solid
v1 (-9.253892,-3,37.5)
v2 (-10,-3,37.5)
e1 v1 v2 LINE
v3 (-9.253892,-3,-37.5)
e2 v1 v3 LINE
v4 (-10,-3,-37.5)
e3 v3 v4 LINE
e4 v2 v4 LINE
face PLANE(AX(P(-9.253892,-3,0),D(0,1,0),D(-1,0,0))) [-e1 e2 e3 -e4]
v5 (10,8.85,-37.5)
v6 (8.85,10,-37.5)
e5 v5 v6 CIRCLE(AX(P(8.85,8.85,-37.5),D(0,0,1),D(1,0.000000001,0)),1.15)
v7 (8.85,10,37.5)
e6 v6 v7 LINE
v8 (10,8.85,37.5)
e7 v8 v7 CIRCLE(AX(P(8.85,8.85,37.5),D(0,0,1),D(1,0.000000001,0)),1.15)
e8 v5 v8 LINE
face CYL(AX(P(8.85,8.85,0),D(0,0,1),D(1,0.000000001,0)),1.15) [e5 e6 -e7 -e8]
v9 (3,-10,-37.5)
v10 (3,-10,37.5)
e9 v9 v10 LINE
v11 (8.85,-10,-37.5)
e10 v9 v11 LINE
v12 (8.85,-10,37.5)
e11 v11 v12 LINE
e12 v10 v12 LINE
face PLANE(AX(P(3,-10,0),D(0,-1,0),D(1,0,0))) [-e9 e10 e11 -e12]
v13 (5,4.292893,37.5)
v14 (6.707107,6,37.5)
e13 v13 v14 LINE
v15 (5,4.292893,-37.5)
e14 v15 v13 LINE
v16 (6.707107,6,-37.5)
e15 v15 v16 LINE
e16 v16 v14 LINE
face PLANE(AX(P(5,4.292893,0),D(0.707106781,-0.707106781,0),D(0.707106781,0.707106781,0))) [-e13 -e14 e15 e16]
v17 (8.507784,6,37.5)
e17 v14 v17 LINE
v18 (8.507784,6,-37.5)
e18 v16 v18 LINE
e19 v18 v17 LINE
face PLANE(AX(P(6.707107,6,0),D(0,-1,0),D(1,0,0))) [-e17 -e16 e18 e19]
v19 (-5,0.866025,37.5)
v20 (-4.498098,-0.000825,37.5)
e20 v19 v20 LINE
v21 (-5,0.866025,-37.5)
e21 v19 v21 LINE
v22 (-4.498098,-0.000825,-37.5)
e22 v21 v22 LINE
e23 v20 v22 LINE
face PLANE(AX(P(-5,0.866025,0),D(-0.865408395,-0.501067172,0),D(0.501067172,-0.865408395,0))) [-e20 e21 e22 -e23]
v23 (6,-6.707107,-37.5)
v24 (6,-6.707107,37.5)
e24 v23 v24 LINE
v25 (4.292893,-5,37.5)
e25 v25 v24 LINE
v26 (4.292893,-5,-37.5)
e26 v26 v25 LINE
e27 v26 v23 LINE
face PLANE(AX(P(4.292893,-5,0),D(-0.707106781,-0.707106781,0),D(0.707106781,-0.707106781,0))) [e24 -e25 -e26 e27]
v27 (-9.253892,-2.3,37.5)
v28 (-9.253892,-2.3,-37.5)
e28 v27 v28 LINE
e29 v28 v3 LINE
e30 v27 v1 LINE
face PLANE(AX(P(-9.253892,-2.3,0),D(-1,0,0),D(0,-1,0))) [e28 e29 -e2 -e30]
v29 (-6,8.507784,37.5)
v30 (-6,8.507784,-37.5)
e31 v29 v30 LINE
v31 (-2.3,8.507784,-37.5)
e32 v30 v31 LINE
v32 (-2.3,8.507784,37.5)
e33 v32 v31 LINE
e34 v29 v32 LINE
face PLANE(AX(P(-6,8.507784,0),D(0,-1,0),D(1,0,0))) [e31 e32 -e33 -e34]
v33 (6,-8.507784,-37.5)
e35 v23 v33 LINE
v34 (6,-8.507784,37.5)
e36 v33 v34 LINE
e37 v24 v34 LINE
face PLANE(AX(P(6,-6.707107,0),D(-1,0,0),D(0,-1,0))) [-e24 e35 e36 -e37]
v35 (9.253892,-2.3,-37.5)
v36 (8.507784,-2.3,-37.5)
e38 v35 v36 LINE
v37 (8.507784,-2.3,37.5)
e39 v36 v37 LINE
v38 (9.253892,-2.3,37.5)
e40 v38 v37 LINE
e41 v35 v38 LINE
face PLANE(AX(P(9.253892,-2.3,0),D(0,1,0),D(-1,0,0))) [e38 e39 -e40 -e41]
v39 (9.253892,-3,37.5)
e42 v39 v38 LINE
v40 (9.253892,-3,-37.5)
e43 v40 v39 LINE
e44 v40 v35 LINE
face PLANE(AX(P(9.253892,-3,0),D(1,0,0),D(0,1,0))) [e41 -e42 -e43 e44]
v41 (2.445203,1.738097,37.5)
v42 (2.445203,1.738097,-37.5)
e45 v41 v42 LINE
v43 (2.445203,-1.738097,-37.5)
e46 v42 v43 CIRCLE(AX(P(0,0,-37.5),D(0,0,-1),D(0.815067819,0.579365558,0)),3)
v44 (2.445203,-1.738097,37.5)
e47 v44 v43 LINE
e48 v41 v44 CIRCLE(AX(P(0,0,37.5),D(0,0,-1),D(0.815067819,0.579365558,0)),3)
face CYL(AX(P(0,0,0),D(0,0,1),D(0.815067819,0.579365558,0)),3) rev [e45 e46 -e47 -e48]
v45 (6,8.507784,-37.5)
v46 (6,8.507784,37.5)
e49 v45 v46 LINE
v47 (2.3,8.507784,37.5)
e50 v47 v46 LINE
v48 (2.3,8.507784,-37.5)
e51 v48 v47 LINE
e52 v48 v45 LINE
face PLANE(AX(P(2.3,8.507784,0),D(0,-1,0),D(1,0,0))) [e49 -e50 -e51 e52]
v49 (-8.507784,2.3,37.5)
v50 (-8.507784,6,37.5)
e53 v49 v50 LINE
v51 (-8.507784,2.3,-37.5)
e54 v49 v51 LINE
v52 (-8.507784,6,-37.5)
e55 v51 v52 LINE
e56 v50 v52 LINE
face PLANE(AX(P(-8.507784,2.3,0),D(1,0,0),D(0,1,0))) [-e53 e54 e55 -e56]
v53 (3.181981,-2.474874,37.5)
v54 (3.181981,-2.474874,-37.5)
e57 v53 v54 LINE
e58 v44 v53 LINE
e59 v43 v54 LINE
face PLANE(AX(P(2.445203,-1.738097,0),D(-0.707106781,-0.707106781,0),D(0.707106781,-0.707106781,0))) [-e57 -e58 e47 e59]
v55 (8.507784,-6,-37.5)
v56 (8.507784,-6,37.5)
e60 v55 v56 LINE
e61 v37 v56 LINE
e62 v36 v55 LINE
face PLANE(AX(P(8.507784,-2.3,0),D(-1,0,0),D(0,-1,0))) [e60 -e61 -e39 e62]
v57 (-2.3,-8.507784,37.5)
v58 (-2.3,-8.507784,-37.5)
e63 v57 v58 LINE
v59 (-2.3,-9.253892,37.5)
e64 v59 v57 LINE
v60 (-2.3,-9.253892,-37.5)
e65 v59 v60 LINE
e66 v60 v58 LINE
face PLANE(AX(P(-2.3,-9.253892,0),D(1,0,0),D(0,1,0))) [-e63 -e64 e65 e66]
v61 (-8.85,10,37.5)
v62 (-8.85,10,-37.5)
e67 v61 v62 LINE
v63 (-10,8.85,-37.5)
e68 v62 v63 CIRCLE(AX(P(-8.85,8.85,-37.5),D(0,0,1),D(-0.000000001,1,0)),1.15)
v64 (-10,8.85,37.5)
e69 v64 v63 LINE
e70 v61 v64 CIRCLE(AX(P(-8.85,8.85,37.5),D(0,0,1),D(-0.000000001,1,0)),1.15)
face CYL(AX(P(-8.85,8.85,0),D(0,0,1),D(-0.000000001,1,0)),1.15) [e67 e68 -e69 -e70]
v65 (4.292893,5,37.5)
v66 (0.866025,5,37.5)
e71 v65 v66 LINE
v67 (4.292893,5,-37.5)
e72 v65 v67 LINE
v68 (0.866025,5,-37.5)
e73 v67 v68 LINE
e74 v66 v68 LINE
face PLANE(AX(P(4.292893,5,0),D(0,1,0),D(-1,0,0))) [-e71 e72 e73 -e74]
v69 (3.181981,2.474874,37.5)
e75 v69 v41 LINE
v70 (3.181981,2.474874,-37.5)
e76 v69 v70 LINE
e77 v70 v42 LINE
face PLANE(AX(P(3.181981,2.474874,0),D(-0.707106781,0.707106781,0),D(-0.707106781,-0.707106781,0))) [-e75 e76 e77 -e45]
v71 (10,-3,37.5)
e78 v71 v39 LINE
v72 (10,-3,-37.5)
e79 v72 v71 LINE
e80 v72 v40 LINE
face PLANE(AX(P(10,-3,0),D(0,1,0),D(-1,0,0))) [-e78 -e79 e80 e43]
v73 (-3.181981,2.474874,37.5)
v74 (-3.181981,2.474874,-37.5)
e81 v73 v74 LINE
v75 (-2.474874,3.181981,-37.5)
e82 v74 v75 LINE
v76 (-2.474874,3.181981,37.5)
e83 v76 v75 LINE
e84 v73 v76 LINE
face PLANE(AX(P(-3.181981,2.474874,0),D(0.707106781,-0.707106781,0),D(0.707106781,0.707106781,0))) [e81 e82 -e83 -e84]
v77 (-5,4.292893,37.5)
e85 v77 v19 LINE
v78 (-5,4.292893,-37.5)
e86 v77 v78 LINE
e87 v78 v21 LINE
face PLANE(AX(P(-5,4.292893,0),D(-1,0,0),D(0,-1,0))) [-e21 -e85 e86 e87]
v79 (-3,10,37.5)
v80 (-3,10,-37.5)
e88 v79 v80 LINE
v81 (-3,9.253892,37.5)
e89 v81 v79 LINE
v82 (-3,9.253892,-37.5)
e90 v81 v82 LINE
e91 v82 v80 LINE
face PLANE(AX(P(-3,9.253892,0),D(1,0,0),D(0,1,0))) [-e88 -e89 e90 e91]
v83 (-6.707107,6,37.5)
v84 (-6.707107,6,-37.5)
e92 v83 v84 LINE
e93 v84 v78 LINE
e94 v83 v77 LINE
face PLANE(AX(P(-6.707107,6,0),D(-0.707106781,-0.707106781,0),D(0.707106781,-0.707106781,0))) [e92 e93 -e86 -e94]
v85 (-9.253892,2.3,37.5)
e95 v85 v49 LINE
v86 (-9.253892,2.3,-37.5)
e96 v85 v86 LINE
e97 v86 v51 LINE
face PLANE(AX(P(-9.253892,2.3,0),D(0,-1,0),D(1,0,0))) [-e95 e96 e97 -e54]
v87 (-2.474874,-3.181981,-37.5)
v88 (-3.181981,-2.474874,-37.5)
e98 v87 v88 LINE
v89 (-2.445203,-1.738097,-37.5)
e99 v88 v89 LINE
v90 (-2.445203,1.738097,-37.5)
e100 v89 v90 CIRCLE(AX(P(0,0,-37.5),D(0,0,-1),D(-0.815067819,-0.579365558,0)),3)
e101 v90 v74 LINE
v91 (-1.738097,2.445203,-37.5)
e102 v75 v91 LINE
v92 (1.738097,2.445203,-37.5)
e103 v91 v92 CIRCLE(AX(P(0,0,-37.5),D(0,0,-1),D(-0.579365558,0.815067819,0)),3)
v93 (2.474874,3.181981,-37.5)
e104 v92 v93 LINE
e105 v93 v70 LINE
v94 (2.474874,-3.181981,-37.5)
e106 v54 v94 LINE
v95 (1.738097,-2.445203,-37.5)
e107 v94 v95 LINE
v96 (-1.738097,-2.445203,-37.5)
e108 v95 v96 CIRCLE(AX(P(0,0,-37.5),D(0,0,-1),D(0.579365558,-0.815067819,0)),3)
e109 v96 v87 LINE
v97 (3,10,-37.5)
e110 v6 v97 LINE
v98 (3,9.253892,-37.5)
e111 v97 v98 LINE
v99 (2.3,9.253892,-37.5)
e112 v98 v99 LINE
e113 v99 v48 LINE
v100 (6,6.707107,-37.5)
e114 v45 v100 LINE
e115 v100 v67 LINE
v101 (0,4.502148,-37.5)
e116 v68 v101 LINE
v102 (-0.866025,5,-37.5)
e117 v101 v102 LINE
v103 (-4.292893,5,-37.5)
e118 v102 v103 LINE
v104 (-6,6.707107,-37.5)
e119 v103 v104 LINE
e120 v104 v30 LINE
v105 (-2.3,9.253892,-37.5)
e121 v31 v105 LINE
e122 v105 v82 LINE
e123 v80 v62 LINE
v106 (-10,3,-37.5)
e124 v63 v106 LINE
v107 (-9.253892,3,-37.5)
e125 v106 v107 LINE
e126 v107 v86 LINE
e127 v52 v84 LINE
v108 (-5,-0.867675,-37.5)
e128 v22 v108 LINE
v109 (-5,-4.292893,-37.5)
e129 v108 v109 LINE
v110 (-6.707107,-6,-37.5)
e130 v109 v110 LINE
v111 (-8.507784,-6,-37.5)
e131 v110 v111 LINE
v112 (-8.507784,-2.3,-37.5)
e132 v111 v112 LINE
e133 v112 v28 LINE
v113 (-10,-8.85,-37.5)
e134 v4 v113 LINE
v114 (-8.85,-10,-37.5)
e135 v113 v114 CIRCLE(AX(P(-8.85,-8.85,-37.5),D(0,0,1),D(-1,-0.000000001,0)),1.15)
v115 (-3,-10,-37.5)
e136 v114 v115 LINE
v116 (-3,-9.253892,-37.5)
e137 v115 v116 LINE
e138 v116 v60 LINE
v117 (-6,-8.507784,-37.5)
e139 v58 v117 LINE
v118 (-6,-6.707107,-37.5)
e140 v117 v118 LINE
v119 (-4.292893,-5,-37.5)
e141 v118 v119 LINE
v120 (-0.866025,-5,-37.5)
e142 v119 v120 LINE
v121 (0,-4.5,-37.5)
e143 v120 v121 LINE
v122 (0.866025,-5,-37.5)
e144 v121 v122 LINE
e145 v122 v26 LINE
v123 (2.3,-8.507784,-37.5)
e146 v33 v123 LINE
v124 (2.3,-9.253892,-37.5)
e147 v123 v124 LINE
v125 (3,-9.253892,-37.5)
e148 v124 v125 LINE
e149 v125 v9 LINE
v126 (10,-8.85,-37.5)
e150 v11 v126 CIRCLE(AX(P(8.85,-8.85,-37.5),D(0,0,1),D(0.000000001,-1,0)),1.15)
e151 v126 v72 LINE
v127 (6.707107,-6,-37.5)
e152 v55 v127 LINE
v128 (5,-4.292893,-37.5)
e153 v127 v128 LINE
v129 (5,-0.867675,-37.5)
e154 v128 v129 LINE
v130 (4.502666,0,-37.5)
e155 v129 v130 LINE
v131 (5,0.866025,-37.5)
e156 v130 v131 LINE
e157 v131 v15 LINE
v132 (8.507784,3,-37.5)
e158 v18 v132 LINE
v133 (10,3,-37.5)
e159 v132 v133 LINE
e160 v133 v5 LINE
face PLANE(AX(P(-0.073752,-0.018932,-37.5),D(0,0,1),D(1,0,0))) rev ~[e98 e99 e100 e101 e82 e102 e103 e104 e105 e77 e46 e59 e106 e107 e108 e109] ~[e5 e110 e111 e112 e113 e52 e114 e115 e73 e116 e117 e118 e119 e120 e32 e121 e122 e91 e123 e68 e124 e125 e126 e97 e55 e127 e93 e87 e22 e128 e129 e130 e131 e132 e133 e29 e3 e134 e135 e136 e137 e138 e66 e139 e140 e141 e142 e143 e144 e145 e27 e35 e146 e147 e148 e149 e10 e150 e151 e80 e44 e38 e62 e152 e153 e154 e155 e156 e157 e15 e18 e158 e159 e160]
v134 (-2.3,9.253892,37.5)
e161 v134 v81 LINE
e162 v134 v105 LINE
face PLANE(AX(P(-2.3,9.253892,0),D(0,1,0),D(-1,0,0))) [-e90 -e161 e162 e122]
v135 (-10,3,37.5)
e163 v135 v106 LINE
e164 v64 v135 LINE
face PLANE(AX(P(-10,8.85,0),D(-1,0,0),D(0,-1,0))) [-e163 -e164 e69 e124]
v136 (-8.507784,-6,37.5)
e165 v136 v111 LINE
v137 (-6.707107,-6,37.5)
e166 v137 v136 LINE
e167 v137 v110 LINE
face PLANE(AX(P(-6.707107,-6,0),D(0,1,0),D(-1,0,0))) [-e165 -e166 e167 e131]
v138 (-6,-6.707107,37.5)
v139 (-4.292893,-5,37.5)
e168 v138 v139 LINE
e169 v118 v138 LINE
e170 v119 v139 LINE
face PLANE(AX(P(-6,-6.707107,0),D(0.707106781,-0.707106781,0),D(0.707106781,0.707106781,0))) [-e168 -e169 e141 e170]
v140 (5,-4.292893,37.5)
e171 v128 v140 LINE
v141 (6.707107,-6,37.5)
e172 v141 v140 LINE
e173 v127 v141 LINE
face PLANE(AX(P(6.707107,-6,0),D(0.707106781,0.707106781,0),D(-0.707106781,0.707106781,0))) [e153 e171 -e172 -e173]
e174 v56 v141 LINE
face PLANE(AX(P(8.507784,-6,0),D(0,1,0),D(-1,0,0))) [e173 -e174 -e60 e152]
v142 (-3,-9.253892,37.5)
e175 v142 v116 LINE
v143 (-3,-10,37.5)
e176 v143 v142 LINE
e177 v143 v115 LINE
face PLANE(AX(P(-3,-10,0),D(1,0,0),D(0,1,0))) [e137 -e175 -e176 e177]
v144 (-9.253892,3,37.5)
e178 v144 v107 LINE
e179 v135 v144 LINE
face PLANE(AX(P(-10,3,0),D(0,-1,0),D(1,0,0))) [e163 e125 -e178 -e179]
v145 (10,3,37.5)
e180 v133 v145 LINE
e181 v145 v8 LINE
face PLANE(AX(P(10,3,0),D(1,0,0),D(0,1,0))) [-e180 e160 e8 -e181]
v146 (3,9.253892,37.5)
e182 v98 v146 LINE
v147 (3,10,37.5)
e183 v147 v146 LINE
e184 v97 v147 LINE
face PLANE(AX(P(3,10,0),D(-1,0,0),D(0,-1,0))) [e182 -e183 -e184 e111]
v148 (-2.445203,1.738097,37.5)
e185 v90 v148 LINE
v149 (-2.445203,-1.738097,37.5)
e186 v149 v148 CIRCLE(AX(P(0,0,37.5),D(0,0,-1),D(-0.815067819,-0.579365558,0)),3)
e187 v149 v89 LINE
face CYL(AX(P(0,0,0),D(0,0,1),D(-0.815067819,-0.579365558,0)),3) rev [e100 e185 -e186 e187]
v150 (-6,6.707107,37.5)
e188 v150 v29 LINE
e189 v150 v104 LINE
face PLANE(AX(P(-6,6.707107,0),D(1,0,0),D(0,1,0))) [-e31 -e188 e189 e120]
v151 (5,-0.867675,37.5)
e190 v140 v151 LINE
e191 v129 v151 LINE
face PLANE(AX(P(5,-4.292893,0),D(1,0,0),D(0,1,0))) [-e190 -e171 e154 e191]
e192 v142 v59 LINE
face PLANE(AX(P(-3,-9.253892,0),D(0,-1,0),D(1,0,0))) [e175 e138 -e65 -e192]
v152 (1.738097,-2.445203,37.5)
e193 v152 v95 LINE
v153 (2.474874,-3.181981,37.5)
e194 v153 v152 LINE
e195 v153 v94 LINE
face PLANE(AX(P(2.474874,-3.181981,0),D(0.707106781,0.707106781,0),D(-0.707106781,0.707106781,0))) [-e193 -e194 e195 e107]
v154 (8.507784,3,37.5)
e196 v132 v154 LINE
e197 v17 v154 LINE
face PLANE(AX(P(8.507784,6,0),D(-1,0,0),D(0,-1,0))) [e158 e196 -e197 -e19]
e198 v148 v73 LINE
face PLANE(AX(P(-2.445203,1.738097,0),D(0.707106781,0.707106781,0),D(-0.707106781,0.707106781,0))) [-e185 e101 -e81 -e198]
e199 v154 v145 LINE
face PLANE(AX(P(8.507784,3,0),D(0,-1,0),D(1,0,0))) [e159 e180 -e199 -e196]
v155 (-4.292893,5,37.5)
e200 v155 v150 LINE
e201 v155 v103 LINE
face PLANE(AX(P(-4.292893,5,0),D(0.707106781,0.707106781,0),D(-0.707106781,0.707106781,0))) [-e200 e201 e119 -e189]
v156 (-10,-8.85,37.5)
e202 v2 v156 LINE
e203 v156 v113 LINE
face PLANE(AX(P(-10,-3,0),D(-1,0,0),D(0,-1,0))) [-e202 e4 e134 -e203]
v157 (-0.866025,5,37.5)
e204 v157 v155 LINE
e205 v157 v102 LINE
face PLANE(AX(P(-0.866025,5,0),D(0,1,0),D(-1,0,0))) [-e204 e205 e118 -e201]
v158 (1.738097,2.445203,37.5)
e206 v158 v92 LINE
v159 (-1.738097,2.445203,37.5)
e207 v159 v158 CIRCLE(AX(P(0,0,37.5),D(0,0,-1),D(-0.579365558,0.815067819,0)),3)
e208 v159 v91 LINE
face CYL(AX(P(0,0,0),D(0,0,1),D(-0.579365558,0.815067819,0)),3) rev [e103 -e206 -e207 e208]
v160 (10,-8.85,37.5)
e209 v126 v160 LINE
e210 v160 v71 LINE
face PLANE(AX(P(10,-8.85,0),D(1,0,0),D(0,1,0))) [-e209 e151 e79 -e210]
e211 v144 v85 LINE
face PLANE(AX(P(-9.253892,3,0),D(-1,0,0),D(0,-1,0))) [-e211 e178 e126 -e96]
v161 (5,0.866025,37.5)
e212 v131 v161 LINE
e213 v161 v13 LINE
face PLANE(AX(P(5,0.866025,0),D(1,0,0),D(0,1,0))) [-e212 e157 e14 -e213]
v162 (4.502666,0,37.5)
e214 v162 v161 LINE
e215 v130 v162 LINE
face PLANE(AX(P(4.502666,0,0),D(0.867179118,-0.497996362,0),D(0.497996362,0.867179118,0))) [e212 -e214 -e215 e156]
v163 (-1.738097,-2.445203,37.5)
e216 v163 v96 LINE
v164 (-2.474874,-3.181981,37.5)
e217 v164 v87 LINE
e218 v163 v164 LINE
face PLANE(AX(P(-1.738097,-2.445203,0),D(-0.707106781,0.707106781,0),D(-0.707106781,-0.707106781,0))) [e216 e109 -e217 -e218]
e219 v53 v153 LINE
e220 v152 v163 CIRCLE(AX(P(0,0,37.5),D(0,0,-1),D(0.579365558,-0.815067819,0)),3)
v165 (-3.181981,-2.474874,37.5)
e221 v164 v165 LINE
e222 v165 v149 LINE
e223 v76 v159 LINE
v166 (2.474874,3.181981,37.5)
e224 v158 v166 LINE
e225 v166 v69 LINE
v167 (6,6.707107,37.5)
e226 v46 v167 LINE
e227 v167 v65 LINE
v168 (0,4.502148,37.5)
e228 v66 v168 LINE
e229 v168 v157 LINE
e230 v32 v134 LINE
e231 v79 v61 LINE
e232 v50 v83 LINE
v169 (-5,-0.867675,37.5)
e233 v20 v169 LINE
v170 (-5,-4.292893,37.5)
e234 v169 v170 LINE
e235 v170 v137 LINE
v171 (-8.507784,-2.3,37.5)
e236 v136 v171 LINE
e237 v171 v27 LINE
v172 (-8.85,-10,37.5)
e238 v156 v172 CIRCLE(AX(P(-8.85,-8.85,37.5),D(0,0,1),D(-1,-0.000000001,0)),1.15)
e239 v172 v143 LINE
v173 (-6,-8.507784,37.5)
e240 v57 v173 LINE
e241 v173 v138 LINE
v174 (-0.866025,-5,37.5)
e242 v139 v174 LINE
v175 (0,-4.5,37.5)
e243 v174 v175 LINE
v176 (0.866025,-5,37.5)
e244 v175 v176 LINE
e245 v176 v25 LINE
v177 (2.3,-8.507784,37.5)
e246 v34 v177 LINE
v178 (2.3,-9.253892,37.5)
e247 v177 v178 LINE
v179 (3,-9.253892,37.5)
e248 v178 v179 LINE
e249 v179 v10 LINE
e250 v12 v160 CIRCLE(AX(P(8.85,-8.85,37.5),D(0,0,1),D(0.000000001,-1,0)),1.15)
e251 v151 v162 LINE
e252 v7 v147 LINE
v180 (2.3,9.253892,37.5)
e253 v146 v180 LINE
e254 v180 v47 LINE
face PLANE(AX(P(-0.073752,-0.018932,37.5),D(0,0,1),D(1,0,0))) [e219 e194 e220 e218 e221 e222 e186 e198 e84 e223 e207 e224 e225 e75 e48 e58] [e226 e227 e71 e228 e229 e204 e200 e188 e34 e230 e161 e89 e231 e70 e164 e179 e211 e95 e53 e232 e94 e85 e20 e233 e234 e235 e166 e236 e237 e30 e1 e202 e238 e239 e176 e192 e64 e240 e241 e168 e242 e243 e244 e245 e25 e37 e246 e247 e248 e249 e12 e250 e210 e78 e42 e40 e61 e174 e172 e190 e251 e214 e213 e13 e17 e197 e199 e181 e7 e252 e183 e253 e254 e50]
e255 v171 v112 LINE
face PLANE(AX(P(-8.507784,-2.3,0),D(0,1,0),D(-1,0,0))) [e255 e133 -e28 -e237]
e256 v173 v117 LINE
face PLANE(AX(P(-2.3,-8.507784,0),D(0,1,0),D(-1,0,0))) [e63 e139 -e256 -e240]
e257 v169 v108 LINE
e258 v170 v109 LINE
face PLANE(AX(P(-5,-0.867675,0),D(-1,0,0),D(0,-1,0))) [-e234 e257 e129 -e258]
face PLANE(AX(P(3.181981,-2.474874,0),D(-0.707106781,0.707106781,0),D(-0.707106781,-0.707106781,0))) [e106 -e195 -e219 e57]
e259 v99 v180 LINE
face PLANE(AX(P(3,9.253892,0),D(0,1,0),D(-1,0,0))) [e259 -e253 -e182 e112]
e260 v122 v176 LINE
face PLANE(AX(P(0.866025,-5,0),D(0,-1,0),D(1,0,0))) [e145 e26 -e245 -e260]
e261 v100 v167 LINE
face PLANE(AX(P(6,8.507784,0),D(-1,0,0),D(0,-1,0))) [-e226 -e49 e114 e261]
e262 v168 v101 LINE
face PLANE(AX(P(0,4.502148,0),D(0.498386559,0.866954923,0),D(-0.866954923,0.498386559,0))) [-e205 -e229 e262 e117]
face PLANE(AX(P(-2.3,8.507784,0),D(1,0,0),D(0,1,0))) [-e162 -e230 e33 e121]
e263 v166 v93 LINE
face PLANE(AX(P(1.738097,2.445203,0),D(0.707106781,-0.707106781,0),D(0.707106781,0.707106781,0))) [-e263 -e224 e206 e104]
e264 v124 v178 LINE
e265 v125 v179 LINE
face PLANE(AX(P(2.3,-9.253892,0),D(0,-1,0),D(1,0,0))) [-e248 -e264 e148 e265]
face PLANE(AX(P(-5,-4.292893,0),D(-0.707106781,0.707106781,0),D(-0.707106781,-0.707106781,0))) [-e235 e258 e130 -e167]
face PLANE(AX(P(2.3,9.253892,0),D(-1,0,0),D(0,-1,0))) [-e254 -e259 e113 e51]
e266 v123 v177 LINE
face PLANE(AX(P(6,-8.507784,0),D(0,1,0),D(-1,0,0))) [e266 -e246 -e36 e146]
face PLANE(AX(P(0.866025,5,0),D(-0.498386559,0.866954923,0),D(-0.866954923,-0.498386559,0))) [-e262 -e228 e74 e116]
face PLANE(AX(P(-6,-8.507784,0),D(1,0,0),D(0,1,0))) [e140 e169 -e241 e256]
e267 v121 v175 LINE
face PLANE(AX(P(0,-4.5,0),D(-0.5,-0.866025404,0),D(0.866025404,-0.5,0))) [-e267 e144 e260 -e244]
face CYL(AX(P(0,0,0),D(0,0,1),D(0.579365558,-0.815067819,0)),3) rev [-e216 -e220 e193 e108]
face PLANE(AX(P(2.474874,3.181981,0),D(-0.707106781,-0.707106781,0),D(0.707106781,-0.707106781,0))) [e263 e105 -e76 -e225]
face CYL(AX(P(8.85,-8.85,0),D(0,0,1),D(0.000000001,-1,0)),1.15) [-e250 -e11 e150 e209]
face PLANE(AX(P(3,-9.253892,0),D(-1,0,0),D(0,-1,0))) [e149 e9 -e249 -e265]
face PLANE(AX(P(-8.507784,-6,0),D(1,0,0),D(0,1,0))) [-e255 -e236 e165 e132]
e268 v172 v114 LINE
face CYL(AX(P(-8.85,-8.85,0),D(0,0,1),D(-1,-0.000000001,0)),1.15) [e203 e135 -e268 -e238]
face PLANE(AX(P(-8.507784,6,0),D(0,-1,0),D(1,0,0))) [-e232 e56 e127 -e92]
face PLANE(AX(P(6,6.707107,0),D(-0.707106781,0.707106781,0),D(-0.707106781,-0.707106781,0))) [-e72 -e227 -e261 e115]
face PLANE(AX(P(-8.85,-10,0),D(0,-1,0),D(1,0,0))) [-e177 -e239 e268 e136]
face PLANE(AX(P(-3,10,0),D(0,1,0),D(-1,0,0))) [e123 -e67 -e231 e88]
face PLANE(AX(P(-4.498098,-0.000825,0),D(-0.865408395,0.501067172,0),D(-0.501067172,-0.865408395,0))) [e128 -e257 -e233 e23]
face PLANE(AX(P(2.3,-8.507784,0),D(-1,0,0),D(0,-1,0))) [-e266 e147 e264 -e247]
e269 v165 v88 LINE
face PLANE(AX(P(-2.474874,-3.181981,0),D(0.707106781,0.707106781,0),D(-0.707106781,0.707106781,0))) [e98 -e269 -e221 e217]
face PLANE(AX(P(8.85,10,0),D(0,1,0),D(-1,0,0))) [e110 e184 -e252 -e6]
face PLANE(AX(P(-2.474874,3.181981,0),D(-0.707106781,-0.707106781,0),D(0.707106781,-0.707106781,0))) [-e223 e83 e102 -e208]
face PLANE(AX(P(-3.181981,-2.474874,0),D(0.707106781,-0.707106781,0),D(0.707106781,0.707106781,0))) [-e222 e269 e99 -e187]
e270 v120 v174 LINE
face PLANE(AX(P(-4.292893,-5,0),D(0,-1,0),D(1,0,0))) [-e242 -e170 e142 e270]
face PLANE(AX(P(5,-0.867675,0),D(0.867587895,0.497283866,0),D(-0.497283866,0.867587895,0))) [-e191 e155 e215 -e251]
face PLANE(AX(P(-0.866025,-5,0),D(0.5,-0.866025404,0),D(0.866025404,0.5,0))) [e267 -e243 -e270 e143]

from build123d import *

# Parameters (mm, degrees)
RESSALTO_EXTRUS_O1_DEPTH = 37.5


with BuildPart() as part:
    # Esboço1 → Ressalto-extrusão1 (new body, symmetric)
    with BuildSketch(Plane.XY):
        with BuildLine():
            Line((-6, -8.507783687), (-6, -6.707106781))
            Line((-6, -6.707106781), (-4.292893219, -5))
            Line((-4.292893219, -5), (-0.866025404, -5))
            Line((-0.866025404, -5), (0, -4.5))
            Line((0, -4.5), (0.866025404, -5))
            Line((0.866025404, -5), (4.292893219, -5))
            Line((4.292893219, -5), (6, -6.707106781))
            Line((6, -6.707106781), (6, -8.507783687))
            Line((6, -8.507783687), (2.3, -8.507783687))
            Line((2.3, -8.507783687), (2.3, -9.253891844))
            Line((2.3, -9.253891844), (3, -9.253891844))
            Line((3, -9.253891844), (3, -10))
            Line((3, -10), (8.85, -10))
            ThreePointArc((8.85, -10), (9.663172798, -9.663172798), (10, -8.85))
            Line((10, -8.85), (10, -3))
            Line((10, -3), (9.253891844, -3))
            Line((9.253891844, -3), (9.253891844, -2.3))
            Line((9.253891844, -2.3), (8.507783687, -2.3))
            Line((8.507783687, -2.3), (8.507783687, -6))
            Line((8.507783687, -6), (6.707106781, -6))
            Line((6.707106781, -6), (5, -4.292893219))
            Line((5, -4.292893219), (5, -0.867675042))
            Line((5, -0.867675042), (4.502666183, 0))
            Line((4.502666183, 0), (5, 0.866025404))
            Line((5, 0.866025404), (5, 4.292893219))
            Line((5, 4.292893219), (6.707106781, 6))
            Line((6.707106781, 6), (8.507783687, 6))
            Line((8.507783687, 6), (8.507783687, 3))
            Line((8.507783687, 3), (9.253891844, 3))
            Line((9.253891844, 3), (10, 3))
            Line((10, 3), (10, 8.85))
            ThreePointArc((10, 8.85), (9.663172798, 9.663172798), (8.85, 10))
            Line((8.85, 10), (3, 10))
            Line((3, 10), (3, 9.253891844))
            Line((3, 9.253891844), (2.3, 9.253891844))
            Line((2.3, 9.253891844), (2.3, 8.507783687))
            Line((2.3, 8.507783687), (6, 8.507783687))
            Line((6, 8.507783687), (6, 6.707106781))
            Line((6, 6.707106781), (4.292893219, 5))
            Line((4.292893219, 5), (0.866025404, 5))
            Line((0.866025404, 5), (0, 4.502147794))
            Line((0, 4.502147794), (-0.866025404, 5))
            Line((-0.866025404, 5), (-4.292893219, 5))
            Line((-4.292893219, 5), (-6, 6.707106781))
            Line((-6, 6.707106781), (-6, 8.507783687))
            Line((-6, 8.507783687), (-2.3, 8.507783687))
            Line((-2.3, 8.507783687), (-2.3, 9.253891844))
            Line((-2.3, 9.253891844), (-3, 9.253891844))
            Line((-3, 9.253891844), (-3, 10))
            Line((-3, 10), (-8.85, 10))
            ThreePointArc((-8.85, 10), (-9.663172798, 9.663172798), (-10, 8.85))
            Line((-10, 8.85), (-10, 3))
            Line((-10, 3), (-9.253891844, 3))
            Line((-9.253891844, 3), (-9.253891844, 2.3))
            Line((-9.253891844, 2.3), (-8.507783687, 2.3))
            Line((-8.507783687, 2.3), (-8.507783687, 6))
            Line((-8.507783687, 6), (-6.707106781, 6))
            Line((-6.707106781, 6), (-5, 4.292893219))
            Line((-5, 4.292893219), (-5, 0.866025404))
            Line((-5, 0.866025404), (-4.498098017, -0.000824819))
            Line((-4.498098017, -0.000824819), (-5, -0.867675042))
            Line((-5, -0.867675042), (-5, -4.292893219))
            Line((-5, -4.292893219), (-6.707106781, -6))
            Line((-6.707106781, -6), (-8.507783687, -6))
            Line((-8.507783687, -6), (-8.507783687, -2.3))
            Line((-8.507783687, -2.3), (-9.253891844, -2.3))
            Line((-9.253891844, -2.3), (-9.253891844, -3))
            Line((-9.253891844, -3), (-10, -3))
            Line((-10, -3), (-10, -8.85))
            ThreePointArc((-10, -8.85), (-9.663172798, -9.663172798), (-8.85, -10))
            Line((-8.85, -10), (-3, -10))
            Line((-3, -10), (-3, -9.253891844))
            Line((-3, -9.253891844), (-2.3, -9.253891844))
            Line((-2.3, -9.253891844), (-2.3, -8.507783687))
            Line((-2.3, -8.507783687), (-6, -8.507783687))
        make_face()
        with BuildLine():
            Line((-2.445203457, 1.738096676), (-3.181980515, 2.474873734))
            Line((-3.181980515, 2.474873734), (-2.474873734, 3.181980515))
            Line((-2.474873734, 3.181980515), (-1.738096676, 2.445203457))
            ThreePointArc((-1.738096676, 2.445203457), (0, 3), (1.738096676, 2.445203457))
            Line((1.738096676, 2.445203457), (2.474873734, 3.181980515))
            Line((2.474873734, 3.181980515), (3.181980515, 2.474873734))
            Line((3.181980515, 2.474873734), (2.445203457, 1.738096676))
            ThreePointArc((2.445203457, 1.738096676), (3, 0), (2.445203457, -1.738096676))
            Line((2.445203457, -1.738096676), (3.181980515, -2.474873734))
            Line((3.181980515, -2.474873734), (2.474873734, -3.181980515))
            Line((2.474873734, -3.181980515), (1.738096676, -2.445203457))
            ThreePointArc((1.738096676, -2.445203457), (0, -3), (-1.738096676, -2.445203457))
            Line((-1.738096676, -2.445203457), (-2.474873734, -3.181980515))
            Line((-2.474873734, -3.181980515), (-3.181980515, -2.474873734))
            Line((-3.181980515, -2.474873734), (-2.445203457, -1.738096676))
            ThreePointArc((-2.445203457, -1.738096676), (-3, 0), (-2.445203457, 1.738096676))
        make_face(mode=Mode.SUBTRACT)
    extrude(amount=RESSALTO_EXTRUS_O1_DEPTH, both=True)


solid = part.part
